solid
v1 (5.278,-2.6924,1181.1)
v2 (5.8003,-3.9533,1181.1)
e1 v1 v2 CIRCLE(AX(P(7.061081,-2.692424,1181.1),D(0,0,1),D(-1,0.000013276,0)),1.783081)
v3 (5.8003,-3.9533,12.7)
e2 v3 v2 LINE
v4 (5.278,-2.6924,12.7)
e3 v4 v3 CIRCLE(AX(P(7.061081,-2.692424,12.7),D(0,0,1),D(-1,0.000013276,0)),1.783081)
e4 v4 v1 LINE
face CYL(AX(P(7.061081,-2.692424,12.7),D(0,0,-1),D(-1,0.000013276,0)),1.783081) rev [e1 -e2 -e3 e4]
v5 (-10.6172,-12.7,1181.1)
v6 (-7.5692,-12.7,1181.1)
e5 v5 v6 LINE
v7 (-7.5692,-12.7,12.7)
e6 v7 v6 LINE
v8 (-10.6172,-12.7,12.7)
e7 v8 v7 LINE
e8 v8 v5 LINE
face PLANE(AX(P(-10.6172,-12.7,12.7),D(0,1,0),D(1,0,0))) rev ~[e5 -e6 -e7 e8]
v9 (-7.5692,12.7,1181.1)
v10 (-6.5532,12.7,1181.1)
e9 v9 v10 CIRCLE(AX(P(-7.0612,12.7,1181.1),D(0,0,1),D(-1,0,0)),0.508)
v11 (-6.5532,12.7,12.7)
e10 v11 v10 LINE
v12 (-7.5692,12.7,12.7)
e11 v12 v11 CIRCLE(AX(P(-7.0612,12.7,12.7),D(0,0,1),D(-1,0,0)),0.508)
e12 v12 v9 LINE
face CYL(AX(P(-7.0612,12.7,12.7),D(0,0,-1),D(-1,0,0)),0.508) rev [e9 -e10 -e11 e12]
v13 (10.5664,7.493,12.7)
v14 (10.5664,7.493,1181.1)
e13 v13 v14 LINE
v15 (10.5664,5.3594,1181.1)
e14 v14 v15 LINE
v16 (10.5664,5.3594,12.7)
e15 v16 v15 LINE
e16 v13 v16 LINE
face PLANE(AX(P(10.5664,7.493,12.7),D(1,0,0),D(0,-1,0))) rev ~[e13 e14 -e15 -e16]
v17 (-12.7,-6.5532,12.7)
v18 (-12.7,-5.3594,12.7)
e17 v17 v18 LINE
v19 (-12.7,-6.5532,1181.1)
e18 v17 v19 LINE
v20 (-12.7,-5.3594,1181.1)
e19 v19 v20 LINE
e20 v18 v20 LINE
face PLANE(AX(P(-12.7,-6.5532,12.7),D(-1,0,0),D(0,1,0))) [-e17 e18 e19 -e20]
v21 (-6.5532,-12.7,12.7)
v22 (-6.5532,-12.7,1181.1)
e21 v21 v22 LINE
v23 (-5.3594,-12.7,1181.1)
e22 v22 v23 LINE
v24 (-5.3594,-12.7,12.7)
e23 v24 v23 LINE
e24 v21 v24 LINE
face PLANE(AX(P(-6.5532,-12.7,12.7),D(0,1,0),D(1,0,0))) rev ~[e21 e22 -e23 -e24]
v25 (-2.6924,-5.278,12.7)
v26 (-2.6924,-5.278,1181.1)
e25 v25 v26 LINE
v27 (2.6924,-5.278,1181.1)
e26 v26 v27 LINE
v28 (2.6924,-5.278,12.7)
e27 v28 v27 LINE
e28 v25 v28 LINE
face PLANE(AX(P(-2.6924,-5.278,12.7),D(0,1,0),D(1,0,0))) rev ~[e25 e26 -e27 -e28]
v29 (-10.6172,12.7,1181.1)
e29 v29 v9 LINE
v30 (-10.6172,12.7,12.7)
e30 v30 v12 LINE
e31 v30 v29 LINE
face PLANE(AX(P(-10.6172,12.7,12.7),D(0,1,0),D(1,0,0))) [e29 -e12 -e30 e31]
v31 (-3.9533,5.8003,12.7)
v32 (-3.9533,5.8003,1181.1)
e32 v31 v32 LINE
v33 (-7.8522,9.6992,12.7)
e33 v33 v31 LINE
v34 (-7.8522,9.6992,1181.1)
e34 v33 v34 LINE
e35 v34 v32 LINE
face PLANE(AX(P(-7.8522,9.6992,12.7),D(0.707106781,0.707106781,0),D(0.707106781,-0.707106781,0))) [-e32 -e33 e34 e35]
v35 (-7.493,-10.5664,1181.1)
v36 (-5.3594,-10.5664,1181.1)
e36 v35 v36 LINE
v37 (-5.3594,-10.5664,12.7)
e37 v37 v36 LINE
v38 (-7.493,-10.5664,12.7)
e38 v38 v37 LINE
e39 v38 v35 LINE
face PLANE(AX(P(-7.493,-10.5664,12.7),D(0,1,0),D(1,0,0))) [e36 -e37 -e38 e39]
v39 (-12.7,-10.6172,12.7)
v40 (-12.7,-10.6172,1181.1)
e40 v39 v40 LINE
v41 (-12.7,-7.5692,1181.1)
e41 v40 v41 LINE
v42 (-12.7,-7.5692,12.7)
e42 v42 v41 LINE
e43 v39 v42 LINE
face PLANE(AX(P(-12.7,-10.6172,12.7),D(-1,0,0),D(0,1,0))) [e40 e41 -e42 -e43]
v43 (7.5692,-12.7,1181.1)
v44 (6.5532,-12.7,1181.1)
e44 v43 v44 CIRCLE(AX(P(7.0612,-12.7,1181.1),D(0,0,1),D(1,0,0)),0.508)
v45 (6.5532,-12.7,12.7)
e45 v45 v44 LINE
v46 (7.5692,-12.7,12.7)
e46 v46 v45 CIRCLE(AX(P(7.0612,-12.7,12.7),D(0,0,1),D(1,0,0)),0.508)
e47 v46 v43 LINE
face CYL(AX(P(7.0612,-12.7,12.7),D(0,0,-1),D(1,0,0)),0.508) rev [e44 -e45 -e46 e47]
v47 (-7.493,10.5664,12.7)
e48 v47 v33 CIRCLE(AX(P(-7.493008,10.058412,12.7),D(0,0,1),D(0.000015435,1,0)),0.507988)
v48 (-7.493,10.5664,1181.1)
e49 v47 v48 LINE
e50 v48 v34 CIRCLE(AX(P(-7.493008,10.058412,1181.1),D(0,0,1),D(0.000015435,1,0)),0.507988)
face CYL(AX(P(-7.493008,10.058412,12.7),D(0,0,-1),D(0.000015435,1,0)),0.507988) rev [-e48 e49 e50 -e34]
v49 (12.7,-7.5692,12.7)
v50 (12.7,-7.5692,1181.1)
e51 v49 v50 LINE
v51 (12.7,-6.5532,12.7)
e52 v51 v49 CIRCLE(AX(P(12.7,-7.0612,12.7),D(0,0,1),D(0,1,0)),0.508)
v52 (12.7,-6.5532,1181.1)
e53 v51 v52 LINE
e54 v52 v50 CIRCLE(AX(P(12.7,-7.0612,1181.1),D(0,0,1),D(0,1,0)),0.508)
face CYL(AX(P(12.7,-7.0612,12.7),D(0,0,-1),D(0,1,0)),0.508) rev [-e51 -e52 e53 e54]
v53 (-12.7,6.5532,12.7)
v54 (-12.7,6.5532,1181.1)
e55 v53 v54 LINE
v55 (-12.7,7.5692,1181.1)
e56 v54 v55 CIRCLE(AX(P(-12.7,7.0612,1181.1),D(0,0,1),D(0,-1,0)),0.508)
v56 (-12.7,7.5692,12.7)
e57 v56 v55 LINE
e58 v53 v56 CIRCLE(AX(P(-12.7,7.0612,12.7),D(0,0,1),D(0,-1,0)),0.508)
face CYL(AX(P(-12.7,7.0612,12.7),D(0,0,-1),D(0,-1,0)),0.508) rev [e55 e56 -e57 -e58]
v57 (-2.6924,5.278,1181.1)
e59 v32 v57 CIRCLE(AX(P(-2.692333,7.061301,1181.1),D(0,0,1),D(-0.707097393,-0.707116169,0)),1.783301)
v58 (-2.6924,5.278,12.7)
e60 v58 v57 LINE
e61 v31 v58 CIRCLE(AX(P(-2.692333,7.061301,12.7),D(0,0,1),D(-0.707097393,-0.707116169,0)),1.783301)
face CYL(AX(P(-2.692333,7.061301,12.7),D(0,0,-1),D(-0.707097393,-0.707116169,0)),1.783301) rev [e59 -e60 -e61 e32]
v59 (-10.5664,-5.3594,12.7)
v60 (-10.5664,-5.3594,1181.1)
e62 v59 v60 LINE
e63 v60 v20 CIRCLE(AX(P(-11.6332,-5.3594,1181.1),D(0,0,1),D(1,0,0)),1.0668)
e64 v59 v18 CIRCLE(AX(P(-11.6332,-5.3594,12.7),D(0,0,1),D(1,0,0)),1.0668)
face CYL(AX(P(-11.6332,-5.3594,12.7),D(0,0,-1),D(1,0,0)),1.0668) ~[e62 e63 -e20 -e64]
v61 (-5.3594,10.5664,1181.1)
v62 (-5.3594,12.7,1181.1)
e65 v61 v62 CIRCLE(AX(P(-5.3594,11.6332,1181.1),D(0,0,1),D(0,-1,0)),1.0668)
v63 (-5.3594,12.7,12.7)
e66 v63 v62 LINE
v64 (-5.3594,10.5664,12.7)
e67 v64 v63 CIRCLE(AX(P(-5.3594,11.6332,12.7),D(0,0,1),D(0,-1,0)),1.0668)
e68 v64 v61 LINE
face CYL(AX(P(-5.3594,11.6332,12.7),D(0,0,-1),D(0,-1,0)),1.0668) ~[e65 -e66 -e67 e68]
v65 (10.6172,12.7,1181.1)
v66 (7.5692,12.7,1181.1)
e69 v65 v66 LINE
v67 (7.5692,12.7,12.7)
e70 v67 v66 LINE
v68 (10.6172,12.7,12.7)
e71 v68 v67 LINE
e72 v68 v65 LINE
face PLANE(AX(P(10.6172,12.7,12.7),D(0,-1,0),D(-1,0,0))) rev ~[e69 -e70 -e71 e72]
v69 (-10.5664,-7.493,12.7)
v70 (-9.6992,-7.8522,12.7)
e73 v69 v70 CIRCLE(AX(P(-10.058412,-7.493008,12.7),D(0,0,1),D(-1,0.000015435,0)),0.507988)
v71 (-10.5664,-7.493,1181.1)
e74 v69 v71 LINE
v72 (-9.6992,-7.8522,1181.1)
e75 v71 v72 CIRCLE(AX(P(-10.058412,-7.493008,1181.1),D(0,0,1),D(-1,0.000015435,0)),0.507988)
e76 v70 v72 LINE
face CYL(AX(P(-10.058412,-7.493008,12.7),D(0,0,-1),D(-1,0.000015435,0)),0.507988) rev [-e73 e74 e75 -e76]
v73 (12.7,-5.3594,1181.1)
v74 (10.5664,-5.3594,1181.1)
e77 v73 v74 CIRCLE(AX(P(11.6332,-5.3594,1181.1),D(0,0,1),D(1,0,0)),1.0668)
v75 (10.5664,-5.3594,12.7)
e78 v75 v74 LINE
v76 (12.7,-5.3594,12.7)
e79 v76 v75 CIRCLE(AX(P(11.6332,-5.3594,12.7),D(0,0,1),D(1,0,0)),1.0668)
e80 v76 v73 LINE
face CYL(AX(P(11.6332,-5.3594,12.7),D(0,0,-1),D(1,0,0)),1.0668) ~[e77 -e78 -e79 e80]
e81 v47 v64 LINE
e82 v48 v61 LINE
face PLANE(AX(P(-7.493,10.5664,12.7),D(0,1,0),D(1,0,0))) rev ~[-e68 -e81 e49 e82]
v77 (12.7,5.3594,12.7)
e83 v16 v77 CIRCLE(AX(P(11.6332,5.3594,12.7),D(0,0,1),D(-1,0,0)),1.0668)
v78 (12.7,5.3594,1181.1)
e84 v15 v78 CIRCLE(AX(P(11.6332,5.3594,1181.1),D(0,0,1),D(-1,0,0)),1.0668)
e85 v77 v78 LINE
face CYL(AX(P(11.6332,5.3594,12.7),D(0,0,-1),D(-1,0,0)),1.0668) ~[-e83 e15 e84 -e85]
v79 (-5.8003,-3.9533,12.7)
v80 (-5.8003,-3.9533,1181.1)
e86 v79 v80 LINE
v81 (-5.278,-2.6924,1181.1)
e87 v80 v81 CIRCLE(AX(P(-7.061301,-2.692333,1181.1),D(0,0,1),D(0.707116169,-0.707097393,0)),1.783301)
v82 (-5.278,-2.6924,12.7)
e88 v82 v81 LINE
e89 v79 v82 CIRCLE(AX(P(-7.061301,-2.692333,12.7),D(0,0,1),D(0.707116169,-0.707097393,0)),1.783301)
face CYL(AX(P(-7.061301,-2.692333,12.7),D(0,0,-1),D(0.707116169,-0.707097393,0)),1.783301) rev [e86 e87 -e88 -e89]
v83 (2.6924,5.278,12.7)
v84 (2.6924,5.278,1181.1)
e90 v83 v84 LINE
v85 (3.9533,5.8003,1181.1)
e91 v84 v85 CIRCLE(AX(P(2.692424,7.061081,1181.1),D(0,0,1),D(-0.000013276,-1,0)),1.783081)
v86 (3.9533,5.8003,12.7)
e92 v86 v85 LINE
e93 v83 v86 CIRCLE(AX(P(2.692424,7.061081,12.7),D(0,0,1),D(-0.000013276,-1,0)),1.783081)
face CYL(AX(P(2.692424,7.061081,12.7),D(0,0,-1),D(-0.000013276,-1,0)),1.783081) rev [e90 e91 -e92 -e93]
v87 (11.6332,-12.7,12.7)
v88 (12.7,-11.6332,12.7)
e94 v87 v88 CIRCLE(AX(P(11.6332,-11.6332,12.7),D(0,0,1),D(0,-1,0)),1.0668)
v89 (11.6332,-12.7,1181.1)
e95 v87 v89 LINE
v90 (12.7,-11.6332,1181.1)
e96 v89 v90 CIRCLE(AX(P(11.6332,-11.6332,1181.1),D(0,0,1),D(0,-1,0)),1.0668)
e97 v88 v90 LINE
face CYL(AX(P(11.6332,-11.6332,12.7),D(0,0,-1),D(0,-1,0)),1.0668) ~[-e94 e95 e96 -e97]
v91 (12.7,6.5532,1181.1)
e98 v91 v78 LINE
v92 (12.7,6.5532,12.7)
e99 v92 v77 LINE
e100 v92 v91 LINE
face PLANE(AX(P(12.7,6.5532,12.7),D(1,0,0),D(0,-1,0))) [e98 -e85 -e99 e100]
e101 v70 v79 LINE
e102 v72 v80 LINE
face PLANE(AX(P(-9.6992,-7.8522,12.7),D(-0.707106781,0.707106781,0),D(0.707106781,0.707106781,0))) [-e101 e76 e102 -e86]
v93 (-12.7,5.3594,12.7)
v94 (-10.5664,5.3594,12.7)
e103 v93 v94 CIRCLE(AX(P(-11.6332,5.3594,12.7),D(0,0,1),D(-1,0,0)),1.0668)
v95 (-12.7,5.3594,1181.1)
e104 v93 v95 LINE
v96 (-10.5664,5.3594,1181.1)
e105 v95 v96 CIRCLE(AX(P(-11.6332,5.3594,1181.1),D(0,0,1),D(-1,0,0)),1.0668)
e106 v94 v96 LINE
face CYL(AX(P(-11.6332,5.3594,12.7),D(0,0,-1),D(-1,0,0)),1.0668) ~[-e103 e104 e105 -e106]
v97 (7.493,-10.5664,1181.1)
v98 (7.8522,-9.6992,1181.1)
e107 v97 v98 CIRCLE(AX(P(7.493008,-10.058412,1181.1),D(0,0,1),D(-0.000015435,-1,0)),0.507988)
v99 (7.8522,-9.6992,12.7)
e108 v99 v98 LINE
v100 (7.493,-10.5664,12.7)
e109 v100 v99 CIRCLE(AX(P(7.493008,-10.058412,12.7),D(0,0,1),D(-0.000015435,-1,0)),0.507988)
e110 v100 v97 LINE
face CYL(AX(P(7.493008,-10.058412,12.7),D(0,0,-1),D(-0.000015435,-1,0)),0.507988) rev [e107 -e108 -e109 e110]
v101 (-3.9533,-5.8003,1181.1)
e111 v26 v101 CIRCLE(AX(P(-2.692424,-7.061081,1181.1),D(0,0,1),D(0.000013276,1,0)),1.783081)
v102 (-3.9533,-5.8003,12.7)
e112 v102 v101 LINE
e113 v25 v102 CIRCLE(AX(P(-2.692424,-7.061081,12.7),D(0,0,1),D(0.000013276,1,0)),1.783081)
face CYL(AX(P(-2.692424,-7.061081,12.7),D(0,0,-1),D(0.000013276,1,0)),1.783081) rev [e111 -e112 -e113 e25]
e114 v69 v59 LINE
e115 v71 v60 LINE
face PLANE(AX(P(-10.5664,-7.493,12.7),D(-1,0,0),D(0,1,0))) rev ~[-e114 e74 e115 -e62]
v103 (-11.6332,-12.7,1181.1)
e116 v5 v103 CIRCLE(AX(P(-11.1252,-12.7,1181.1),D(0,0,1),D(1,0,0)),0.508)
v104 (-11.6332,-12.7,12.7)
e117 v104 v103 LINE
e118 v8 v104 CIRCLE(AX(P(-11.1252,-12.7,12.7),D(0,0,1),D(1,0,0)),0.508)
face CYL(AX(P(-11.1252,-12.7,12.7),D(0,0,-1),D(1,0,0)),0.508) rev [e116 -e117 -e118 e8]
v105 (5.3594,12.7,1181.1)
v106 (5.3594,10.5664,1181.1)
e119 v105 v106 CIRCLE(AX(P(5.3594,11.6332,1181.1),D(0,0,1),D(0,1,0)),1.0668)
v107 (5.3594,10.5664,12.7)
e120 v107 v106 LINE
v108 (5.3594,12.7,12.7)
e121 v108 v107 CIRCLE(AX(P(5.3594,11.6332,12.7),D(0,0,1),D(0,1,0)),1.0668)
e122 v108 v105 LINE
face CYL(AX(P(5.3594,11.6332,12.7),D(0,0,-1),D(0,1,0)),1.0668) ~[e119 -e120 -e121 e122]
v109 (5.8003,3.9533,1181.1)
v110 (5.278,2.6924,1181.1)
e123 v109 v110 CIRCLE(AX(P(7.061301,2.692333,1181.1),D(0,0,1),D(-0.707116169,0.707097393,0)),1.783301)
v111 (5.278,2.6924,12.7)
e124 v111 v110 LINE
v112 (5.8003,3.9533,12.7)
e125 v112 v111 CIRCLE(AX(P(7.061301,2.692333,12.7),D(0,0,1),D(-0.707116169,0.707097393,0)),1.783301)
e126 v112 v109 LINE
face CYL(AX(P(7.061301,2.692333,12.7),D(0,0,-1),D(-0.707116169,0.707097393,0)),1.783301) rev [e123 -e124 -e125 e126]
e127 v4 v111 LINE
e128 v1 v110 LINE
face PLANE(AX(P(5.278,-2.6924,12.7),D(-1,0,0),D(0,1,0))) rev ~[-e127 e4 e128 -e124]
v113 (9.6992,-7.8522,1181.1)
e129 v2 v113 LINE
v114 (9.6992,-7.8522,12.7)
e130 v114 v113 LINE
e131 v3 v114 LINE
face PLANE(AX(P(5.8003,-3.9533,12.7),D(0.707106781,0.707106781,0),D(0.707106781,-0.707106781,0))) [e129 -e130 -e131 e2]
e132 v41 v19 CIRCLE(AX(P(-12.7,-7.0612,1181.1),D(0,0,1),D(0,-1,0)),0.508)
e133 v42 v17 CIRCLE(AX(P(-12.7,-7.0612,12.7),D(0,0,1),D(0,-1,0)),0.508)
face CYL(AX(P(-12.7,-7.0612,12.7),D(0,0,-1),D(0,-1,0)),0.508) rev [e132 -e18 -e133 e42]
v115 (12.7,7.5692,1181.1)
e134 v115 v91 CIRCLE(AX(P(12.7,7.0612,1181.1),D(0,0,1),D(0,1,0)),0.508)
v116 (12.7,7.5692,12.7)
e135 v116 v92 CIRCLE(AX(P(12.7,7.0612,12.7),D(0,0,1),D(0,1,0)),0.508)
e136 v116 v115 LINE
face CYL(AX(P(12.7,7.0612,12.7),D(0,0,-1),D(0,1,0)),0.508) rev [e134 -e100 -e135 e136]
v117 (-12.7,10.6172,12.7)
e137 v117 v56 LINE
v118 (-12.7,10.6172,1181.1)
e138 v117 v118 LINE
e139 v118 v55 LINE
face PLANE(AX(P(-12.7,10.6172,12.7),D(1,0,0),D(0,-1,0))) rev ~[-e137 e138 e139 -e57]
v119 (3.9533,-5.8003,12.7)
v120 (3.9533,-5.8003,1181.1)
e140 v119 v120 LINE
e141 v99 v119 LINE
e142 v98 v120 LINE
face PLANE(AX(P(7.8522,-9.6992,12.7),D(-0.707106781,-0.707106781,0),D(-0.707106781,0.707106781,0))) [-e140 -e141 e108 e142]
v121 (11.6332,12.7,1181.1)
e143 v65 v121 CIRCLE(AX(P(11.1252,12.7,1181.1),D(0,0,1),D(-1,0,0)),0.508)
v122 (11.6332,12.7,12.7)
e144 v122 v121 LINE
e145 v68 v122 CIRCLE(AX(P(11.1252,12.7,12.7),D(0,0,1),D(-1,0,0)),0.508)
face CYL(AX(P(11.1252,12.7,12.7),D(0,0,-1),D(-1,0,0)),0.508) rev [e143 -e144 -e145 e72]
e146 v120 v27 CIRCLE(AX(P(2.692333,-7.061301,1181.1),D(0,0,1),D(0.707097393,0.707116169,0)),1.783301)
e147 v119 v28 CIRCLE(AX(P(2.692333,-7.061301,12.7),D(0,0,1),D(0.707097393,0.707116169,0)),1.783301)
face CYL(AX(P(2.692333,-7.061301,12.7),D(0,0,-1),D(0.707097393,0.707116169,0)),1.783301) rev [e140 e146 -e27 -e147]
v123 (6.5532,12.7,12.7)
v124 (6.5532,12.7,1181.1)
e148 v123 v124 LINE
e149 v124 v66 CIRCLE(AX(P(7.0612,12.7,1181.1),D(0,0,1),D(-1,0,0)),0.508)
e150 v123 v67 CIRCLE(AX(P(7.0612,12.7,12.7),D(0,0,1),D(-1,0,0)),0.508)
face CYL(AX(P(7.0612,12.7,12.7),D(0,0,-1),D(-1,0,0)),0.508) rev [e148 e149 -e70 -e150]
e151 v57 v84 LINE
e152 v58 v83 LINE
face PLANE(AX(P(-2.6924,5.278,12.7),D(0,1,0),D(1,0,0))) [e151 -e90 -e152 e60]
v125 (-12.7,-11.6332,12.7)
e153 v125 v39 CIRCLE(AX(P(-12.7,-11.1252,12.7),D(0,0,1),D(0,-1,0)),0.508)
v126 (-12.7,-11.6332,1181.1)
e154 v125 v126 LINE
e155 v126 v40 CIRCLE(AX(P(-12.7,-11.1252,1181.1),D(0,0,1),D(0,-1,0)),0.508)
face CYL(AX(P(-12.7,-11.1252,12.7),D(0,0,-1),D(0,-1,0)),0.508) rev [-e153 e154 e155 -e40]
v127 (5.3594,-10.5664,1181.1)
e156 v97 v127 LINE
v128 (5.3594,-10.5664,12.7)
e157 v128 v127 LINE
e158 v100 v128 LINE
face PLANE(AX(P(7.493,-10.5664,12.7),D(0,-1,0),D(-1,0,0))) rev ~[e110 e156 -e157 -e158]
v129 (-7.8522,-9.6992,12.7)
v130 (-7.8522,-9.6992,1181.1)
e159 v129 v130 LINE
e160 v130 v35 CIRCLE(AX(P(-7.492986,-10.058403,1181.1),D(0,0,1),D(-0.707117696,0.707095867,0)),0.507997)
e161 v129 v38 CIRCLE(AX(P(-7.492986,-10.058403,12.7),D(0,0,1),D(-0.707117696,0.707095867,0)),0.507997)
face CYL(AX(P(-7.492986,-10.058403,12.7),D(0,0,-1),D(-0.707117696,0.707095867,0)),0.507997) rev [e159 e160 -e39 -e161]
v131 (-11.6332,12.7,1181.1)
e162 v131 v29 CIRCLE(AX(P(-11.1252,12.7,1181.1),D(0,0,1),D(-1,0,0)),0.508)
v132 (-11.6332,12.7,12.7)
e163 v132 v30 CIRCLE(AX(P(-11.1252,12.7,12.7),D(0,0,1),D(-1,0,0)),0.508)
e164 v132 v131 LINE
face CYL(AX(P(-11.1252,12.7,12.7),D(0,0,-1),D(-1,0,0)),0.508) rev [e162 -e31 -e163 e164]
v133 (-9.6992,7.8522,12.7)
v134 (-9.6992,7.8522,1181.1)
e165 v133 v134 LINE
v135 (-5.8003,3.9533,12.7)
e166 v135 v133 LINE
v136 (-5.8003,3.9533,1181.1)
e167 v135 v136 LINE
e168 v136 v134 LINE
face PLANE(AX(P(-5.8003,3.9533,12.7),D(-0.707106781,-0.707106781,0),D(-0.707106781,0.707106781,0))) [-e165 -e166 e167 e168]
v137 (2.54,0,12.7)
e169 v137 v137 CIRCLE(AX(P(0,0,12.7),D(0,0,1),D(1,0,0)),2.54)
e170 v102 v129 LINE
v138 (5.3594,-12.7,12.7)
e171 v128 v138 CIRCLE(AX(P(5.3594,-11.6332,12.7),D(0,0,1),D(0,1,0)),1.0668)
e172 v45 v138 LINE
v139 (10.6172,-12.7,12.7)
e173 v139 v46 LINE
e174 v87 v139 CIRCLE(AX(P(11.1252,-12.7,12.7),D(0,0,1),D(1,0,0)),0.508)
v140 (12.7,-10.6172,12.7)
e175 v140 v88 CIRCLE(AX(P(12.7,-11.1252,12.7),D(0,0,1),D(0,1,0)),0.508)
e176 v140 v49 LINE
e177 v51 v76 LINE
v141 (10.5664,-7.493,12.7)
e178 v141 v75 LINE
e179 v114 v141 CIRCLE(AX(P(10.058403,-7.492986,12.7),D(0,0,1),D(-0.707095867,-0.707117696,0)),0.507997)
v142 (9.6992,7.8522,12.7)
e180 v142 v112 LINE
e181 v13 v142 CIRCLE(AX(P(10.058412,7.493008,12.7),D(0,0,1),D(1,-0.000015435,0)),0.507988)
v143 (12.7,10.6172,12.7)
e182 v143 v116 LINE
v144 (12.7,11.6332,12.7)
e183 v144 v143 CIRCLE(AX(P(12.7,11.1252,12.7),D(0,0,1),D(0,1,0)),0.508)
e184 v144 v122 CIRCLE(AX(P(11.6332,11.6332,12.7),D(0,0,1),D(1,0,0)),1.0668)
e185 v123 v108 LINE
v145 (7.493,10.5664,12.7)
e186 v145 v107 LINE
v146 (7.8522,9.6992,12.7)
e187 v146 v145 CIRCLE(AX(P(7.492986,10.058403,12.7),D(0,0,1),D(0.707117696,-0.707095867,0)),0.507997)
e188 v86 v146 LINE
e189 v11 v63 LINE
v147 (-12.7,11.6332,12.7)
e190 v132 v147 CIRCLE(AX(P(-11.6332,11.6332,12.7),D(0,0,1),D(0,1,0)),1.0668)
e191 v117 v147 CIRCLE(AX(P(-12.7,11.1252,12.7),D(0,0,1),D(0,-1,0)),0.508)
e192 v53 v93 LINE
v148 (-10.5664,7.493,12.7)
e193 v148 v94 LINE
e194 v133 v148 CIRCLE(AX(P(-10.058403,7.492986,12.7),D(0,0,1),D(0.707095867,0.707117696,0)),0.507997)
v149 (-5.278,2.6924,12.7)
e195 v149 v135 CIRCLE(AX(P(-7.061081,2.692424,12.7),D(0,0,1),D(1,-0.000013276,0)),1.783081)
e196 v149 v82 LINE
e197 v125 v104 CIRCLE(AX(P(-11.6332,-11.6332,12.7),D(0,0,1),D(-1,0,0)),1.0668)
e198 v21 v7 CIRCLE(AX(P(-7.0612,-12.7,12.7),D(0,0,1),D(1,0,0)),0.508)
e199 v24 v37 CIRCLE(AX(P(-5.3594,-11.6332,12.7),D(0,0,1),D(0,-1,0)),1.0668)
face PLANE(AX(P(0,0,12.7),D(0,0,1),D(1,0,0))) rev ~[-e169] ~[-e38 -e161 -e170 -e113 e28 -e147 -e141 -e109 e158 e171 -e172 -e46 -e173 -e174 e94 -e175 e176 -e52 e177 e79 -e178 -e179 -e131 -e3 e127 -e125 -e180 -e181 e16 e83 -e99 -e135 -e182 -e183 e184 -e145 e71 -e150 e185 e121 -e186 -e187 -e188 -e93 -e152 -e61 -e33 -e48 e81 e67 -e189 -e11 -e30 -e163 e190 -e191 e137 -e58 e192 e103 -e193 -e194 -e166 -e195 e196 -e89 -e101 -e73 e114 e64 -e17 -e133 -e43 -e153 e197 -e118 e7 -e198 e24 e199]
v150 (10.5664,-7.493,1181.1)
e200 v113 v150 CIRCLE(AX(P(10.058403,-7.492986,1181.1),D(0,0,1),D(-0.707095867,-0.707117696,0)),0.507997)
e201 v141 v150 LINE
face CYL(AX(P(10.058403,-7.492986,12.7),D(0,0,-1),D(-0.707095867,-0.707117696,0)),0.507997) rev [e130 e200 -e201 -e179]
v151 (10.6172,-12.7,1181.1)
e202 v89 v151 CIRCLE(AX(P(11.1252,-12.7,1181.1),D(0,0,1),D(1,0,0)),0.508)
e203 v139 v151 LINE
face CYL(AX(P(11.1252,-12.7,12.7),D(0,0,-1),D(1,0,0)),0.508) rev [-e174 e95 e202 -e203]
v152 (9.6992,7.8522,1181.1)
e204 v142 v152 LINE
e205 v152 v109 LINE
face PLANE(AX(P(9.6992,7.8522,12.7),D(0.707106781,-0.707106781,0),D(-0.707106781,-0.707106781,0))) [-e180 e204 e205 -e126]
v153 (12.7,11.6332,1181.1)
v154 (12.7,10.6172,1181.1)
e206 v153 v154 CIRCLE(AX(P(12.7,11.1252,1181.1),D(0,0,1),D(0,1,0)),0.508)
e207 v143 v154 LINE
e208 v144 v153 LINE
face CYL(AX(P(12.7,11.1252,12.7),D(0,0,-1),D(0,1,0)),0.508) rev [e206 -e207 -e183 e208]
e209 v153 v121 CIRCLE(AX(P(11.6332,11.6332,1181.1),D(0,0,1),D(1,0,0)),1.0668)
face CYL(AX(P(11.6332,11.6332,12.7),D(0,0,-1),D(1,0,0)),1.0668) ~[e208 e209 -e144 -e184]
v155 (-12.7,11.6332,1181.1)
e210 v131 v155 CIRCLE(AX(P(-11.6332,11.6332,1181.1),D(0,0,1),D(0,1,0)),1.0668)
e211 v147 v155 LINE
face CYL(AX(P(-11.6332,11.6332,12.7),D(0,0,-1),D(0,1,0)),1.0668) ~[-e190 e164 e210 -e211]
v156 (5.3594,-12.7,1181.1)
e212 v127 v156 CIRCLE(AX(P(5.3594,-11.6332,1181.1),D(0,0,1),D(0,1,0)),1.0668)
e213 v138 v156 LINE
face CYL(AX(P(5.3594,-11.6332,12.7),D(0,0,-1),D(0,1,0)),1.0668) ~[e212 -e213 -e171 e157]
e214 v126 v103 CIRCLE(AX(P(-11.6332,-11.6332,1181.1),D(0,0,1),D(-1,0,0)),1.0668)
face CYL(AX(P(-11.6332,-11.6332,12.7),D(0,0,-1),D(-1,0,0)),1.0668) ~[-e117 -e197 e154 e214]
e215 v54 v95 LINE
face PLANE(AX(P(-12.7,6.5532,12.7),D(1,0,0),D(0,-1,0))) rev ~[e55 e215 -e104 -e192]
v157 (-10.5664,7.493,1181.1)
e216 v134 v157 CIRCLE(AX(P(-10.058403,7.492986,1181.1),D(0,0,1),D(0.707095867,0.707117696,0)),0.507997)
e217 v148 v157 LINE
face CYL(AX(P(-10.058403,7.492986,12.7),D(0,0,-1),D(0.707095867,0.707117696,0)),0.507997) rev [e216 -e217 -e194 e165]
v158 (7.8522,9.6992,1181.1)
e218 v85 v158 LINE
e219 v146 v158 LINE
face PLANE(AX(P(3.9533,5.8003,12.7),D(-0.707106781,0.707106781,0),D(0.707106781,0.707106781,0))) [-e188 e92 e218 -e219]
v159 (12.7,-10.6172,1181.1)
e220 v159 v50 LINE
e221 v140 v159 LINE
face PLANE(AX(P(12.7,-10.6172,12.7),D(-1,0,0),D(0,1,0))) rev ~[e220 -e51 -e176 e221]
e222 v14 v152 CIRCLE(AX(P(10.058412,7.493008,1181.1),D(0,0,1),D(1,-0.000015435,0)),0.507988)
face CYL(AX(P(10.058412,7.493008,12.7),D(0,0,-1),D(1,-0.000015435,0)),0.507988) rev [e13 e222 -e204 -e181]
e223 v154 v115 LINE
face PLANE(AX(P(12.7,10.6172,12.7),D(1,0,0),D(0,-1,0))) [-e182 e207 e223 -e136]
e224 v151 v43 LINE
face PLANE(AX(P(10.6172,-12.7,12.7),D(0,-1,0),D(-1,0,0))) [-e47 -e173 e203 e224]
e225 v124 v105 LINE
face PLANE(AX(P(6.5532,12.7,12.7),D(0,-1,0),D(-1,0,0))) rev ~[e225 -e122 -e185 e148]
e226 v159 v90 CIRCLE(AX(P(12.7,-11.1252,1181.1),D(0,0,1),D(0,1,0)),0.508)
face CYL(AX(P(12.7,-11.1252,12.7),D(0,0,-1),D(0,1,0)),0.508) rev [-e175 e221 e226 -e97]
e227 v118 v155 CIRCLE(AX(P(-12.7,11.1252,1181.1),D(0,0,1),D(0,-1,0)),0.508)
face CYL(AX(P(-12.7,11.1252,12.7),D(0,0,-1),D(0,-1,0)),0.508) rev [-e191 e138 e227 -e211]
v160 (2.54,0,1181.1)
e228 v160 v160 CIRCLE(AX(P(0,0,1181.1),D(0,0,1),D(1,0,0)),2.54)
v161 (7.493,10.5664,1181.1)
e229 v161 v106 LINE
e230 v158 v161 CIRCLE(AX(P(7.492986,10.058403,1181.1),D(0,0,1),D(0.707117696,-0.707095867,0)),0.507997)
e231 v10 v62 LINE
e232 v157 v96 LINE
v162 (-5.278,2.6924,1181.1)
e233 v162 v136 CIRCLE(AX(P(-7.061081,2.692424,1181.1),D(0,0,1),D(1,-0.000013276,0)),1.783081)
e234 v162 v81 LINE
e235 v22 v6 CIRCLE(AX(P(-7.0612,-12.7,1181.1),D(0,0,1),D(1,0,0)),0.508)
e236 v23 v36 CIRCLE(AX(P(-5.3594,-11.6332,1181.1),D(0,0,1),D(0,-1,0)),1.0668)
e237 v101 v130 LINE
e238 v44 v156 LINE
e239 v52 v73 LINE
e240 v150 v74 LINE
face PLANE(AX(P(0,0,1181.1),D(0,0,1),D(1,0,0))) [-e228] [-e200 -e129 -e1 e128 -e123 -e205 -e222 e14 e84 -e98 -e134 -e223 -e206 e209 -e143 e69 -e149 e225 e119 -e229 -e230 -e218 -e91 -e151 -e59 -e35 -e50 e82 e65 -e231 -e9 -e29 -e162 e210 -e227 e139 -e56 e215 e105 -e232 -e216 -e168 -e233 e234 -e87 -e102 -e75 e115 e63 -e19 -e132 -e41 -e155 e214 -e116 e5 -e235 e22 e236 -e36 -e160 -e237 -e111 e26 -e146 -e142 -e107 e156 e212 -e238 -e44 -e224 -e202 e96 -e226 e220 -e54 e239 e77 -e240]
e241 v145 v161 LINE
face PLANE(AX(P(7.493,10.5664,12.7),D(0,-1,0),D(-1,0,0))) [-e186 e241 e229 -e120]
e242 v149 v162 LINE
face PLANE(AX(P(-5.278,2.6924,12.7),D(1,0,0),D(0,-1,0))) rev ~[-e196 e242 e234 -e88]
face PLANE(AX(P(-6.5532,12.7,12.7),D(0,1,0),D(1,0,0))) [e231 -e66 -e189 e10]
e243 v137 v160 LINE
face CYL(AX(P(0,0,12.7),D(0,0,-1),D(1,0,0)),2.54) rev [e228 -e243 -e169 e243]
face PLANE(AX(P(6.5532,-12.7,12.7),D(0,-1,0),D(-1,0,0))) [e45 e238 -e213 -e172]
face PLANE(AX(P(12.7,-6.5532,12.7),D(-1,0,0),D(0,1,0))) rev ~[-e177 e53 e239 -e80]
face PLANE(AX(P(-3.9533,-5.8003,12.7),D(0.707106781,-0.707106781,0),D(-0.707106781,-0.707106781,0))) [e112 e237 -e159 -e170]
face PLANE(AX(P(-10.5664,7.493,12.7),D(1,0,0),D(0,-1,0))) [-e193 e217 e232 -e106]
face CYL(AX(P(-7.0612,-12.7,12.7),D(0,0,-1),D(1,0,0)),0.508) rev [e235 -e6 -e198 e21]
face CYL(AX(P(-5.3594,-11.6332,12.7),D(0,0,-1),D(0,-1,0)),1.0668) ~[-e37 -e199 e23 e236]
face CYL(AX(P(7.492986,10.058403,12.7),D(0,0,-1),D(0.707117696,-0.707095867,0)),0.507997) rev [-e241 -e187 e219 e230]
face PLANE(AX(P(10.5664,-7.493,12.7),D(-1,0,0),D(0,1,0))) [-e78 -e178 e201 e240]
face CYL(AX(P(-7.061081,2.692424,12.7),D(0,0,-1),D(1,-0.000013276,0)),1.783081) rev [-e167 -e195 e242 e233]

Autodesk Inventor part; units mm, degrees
ref_plane "Start Plane" through (0, 0, 12.7) normal (0, 0, 1) x (1, 0, 0)
ref_plane "End Plane" through (0, 0, 1181.1) normal (0, 0, 1) x (1, 0, 0)
sketch "Sketch" plane through (0, 0, 0) normal (0, 0, 1) x (1, 0, 0)
  arc A0 (-11.6332, 12.7) -> (-12.7, 11.6332) centre (-11.6332, 11.6332) ccw
  arc A1 (-5.3594, 10.5664) -> (-5.3594, 12.7) centre (-5.3594, 11.6332) ccw
  arc A2 (-12.7, 5.3594) -> (-10.5664, 5.3594) centre (-11.6332, 5.3594) ccw
  line L0 (-10.5664, 7.493) -> (-10.5664, 5.3594)
  line L1 (-7.493, 10.5664) -> (-5.3594, 10.5664)
  arc A3 (-9.6992, 7.8522) -> (-10.5664, 7.493) centre (-10.0584, 7.493) ccw
  arc A4 (-7.493, 10.5664) -> (-7.8522, 9.6992) centre (-7.493, 10.0584) ccw
  line L2 (-11.6332, 11.6332) -> (0, 0) construction
  line L3 (-5.8003, 3.9533) -> (-9.6992, 7.8522)
  line L4 (-7.8522, 9.6992) -> (-3.9533, 5.8003)
  arc A5 (-3.9533, 5.8003) -> (-2.6924, 5.278) centre (-2.6924, 7.0612) ccw
  arc A6 (-5.278, 2.6924) -> (-5.8003, 3.9533) centre (-7.0612, 2.6924) ccw
  arc A7 (0, 2.54) -> (-2.54, 0) centre (0, 0) ccw construction
  line L5 (0, 0) -> (-12.7, 0) construction
  line L6 (0, 12.7) -> (0, 0) construction
  arc A8 (-11.6332, 12.7) -> (-10.6172, 12.7) centre (-11.1252, 12.7) ccw
  arc A9 (-7.5692, 12.7) -> (-6.5532, 12.7) centre (-7.0612, 12.7) ccw
  arc A10 (-12.7, 10.6172) -> (-12.7, 11.6332) centre (-12.7, 11.1252) ccw
  arc A11 (-12.7, 6.5532) -> (-12.7, 7.5692) centre (-12.7, 7.0612) ccw
  line L7 (-12.7, 10.6172) -> (-12.7, 7.5692)
  line L8 (-12.7, 6.5532) -> (-12.7, 5.3594)
  line L9 (-10.6172, 12.7) -> (-7.5692, 12.7)
  line L10 (-6.5532, 12.7) -> (-5.3594, 12.7)
  circle A12 centre (0, 0) radius 2.54
  arc A13 (-12.7, -11.6332) -> (-11.6332, -12.7) centre (-11.6332, -11.6332) ccw
  line L11 (-12.7, -10.6172) -> (-12.7, -7.5692)
  arc A14 (-10.5664, -7.493) -> (-9.6992, -7.8522) centre (-10.0584, -7.493) ccw
  line L12 (-9.6992, -7.8522) -> (-5.8003, -3.9533)
  line L13 (-11.6332, -11.6332) -> (0, 0) construction
  line L14 (-3.9533, -5.8003) -> (-7.8522, -9.6992)
  arc A15 (-7.8522, -9.6992) -> (-7.493, -10.5664) centre (-7.493, -10.0584) ccw
  line L15 (-10.6172, -12.7) -> (-7.5692, -12.7)
  line L16 (-7.493, -10.5664) -> (-5.3594, -10.5664)
  arc A16 (-6.5532, -12.7) -> (-7.5692, -12.7) centre (-7.0612, -12.7) ccw
  line L17 (-6.5532, -12.7) -> (-5.3594, -12.7)
  arc A17 (-5.3594, -12.7) -> (-5.3594, -10.5664) centre (-5.3594, -11.6332) ccw
  arc A18 (-10.6172, -12.7) -> (-11.6332, -12.7) centre (-11.1252, -12.7) ccw
  arc A19 (-12.7, -11.6332) -> (-12.7, -10.6172) centre (-12.7, -11.1252) ccw
  arc A20 (-2.6924, -5.278) -> (-3.9533, -5.8003) centre (-2.6924, -7.0612) ccw
  arc A21 (-5.8003, -3.9533) -> (-5.278, -2.6924) centre (-7.0612, -2.6924) ccw
  line L18 (-10.5664, -7.493) -> (-10.5664, -5.3594)
  line L19 (-12.7, -6.5532) -> (-12.7, -5.3594)
  arc A22 (-10.5664, -5.3594) -> (-12.7, -5.3594) centre (-11.6332, -5.3594) ccw
  arc A23 (-12.7, -7.5692) -> (-12.7, -6.5532) centre (-12.7, -7.0612) ccw
  arc A24 (11.6332, -12.7) -> (12.7, -11.6332) centre (11.6332, -11.6332) ccw
  line L20 (10.6172, -12.7) -> (7.5692, -12.7)
  arc A25 (7.493, -10.5664) -> (7.8522, -9.6992) centre (7.493, -10.0584) ccw
  line L21 (7.8522, -9.6992) -> (3.9533, -5.8003)
  line L22 (11.6332, -11.6332) -> (0, 0) construction
  line L23 (5.8003, -3.9533) -> (9.6992, -7.8522)
  arc A26 (9.6992, -7.8522) -> (10.5664, -7.493) centre (10.0584, -7.493) ccw
  line L24 (12.7, -10.6172) -> (12.7, -7.5692)
  line L25 (10.5664, -7.493) -> (10.5664, -5.3594)
  arc A27 (12.7, -6.5532) -> (12.7, -7.5692) centre (12.7, -7.0612) ccw
  line L26 (12.7, -6.5532) -> (12.7, -5.3594)
  arc A28 (12.7, -5.3594) -> (10.5664, -5.3594) centre (11.6332, -5.3594) ccw
  arc A29 (12.7, -10.6172) -> (12.7, -11.6332) centre (12.7, -11.1252) ccw
  arc A30 (11.6332, -12.7) -> (10.6172, -12.7) centre (11.1252, -12.7) ccw
  arc A31 (5.278, -2.6924) -> (5.8003, -3.9533) centre (7.0612, -2.6924) ccw
  arc A32 (3.9533, -5.8003) -> (2.6924, -5.278) centre (2.6924, -7.0612) ccw
  line L27 (7.493, -10.5664) -> (5.3594, -10.5664)
  line L28 (6.5532, -12.7) -> (5.3594, -12.7)
  arc A33 (5.3594, -10.5664) -> (5.3594, -12.7) centre (5.3594, -11.6332) ccw
  arc A34 (7.5692, -12.7) -> (6.5532, -12.7) centre (7.0612, -12.7) ccw
  arc A35 (12.7, 11.6332) -> (11.6332, 12.7) centre (11.6332, 11.6332) ccw
  line L29 (12.7, 10.6172) -> (12.7, 7.5692)
  arc A36 (10.5664, 7.493) -> (9.6992, 7.8522) centre (10.0584, 7.493) ccw
  line L30 (9.6992, 7.8522) -> (5.8003, 3.9533)
  line L31 (11.6332, 11.6332) -> (0, 0) construction
  line L32 (3.9533, 5.8003) -> (7.8522, 9.6992)
  arc A37 (7.8522, 9.6992) -> (7.493, 10.5664) centre (7.493, 10.0584) ccw
  line L33 (10.6172, 12.7) -> (7.5692, 12.7)
  line L34 (7.493, 10.5664) -> (5.3594, 10.5664)
  arc A38 (6.5532, 12.7) -> (7.5692, 12.7) centre (7.0612, 12.7) ccw
  line L35 (6.5532, 12.7) -> (5.3594, 12.7)
  arc A39 (5.3594, 12.7) -> (5.3594, 10.5664) centre (5.3594, 11.6332) ccw
  arc A40 (10.6172, 12.7) -> (11.6332, 12.7) centre (11.1252, 12.7) ccw
  arc A41 (12.7, 11.6332) -> (12.7, 10.6172) centre (12.7, 11.1252) ccw
  arc A42 (2.6924, 5.278) -> (3.9533, 5.8003) centre (2.6924, 7.0612) ccw
  arc A43 (5.8003, 3.9533) -> (5.278, 2.6924) centre (7.0612, 2.6924) ccw
  line L36 (10.5664, 7.493) -> (10.5664, 5.3594)
  line L37 (12.7, 6.5532) -> (12.7, 5.3594)
  arc A44 (10.5664, 5.3594) -> (12.7, 5.3594) centre (11.6332, 5.3594) ccw
  arc A45 (12.7, 7.5692) -> (12.7, 6.5532) centre (12.7, 7.0612) ccw
  line L38 (-2.6924, 5.278) -> (2.6924, 5.278)
  line L39 (-5.278, 2.6924) -> (-5.278, -2.6924)
  line L40 (-2.6924, -5.278) -> (2.6924, -5.278)
  line L41 (5.278, -2.6924) -> (5.278, 2.6924)
  point P0 (0, 0)
  point P1 (0, 0)
  dimension "d2" = 2.1336
  dimension "d3" = 6.2738
  dimension "d4" = 6.2738
  dimension "d5" = 1.0668
  dimension "d6" = 2.1336
  dimension "d7" = 2.1336
  dimension "d8" = 1.016
  dimension "d9" = 1.016
  dimension "d10" = 135
  dimension "d11" = 2.667
  dimension "d12" = 4.572
  dimension "d13" = 4.572
  dimension "d14" = 2.667
  dimension "d15" = 5.08
  dimension "d16" = 45
  dimension "d19" = 45
  dimension "d20" = 0.508
  dimension "d21" = 4.572
  dimension "d22" = 1.016
  dimension "d23" = 4.572
  dimension "d24" = 1.016
  dimension "d25" = 0.508
  dimension "d26" = 0.508
  dimension "d27" = 0.508
  dimension "d28" = 12.7
  dimension "d37" = 360
  dimension "d47" = 10.5664
  dimension "d48" = 12.7
extrude "Body" add sketch "Sketch" along normal up to surface (1168.4 mm away) from surface at 12.7
sketch "Sketch2" plane through (0, 0, 0) normal (0, 0, 1) x (1, 0, 0)
  line L0 (0, 0) -> (10, 0)
ref_plane "Work Plane3" through (0, 0, 0) normal (0, -1, 0) x (1, 0, 0)
sketch "Sketch3" plane through (0, 0, 0) normal (0, -1, 0) x (1, 0, 0)
  line L0 (-2, 12.7) -> (12, 12.7)
  line L1 (-2, 1181.1) -> (12, 1181.1)
  dimension "d60" = 1168.4
ref_plane "Work Plane4" through (279.4, -7.5692, 12.7) normal (0, 0, -1) x (-1, 0, 0)
split "Split1" plane through (279.4, -7.5692, 12.7) removes the side toward (0, 0, -1)
ref_plane "Work Plane5" through (0, 10.6172, 1181.1) normal (0, 0, 1) x (1, 0, 0)
split "Split2" plane through (0, 10.6172, 1181.1) removes the side toward (0, 0, 1)
equation "\"d3\" = d4"
equation "\"d6\" = d7"
equation "\"d11\" = d14"
equation "\"d12\" = d13"
equation "\"d23\" = d21"
equation "\"d24\" = d30"
equation "\"d26\" = 0.5 * d24"
equation "\"d27\" = 0.5 * d22"
equation "\"Width\" = 2 * d28"
equation "\"Height\" = 2 * d48"
equation "\"G_OFFSET_START\" = -12.7"
equation "\"G_OFFSET_END\" = -12.7"
equation "\"d55\" = -G_OFFSET_START"
equation "\"d56\" = Length + G_OFFSET_END"
equation "\"G_L\" = 1193.8"
equation "\"d30\" = 1.016"
equation "\"Length\" = 1193.8"
properties part number "1010_80_20" material "Aluminum-6061"
